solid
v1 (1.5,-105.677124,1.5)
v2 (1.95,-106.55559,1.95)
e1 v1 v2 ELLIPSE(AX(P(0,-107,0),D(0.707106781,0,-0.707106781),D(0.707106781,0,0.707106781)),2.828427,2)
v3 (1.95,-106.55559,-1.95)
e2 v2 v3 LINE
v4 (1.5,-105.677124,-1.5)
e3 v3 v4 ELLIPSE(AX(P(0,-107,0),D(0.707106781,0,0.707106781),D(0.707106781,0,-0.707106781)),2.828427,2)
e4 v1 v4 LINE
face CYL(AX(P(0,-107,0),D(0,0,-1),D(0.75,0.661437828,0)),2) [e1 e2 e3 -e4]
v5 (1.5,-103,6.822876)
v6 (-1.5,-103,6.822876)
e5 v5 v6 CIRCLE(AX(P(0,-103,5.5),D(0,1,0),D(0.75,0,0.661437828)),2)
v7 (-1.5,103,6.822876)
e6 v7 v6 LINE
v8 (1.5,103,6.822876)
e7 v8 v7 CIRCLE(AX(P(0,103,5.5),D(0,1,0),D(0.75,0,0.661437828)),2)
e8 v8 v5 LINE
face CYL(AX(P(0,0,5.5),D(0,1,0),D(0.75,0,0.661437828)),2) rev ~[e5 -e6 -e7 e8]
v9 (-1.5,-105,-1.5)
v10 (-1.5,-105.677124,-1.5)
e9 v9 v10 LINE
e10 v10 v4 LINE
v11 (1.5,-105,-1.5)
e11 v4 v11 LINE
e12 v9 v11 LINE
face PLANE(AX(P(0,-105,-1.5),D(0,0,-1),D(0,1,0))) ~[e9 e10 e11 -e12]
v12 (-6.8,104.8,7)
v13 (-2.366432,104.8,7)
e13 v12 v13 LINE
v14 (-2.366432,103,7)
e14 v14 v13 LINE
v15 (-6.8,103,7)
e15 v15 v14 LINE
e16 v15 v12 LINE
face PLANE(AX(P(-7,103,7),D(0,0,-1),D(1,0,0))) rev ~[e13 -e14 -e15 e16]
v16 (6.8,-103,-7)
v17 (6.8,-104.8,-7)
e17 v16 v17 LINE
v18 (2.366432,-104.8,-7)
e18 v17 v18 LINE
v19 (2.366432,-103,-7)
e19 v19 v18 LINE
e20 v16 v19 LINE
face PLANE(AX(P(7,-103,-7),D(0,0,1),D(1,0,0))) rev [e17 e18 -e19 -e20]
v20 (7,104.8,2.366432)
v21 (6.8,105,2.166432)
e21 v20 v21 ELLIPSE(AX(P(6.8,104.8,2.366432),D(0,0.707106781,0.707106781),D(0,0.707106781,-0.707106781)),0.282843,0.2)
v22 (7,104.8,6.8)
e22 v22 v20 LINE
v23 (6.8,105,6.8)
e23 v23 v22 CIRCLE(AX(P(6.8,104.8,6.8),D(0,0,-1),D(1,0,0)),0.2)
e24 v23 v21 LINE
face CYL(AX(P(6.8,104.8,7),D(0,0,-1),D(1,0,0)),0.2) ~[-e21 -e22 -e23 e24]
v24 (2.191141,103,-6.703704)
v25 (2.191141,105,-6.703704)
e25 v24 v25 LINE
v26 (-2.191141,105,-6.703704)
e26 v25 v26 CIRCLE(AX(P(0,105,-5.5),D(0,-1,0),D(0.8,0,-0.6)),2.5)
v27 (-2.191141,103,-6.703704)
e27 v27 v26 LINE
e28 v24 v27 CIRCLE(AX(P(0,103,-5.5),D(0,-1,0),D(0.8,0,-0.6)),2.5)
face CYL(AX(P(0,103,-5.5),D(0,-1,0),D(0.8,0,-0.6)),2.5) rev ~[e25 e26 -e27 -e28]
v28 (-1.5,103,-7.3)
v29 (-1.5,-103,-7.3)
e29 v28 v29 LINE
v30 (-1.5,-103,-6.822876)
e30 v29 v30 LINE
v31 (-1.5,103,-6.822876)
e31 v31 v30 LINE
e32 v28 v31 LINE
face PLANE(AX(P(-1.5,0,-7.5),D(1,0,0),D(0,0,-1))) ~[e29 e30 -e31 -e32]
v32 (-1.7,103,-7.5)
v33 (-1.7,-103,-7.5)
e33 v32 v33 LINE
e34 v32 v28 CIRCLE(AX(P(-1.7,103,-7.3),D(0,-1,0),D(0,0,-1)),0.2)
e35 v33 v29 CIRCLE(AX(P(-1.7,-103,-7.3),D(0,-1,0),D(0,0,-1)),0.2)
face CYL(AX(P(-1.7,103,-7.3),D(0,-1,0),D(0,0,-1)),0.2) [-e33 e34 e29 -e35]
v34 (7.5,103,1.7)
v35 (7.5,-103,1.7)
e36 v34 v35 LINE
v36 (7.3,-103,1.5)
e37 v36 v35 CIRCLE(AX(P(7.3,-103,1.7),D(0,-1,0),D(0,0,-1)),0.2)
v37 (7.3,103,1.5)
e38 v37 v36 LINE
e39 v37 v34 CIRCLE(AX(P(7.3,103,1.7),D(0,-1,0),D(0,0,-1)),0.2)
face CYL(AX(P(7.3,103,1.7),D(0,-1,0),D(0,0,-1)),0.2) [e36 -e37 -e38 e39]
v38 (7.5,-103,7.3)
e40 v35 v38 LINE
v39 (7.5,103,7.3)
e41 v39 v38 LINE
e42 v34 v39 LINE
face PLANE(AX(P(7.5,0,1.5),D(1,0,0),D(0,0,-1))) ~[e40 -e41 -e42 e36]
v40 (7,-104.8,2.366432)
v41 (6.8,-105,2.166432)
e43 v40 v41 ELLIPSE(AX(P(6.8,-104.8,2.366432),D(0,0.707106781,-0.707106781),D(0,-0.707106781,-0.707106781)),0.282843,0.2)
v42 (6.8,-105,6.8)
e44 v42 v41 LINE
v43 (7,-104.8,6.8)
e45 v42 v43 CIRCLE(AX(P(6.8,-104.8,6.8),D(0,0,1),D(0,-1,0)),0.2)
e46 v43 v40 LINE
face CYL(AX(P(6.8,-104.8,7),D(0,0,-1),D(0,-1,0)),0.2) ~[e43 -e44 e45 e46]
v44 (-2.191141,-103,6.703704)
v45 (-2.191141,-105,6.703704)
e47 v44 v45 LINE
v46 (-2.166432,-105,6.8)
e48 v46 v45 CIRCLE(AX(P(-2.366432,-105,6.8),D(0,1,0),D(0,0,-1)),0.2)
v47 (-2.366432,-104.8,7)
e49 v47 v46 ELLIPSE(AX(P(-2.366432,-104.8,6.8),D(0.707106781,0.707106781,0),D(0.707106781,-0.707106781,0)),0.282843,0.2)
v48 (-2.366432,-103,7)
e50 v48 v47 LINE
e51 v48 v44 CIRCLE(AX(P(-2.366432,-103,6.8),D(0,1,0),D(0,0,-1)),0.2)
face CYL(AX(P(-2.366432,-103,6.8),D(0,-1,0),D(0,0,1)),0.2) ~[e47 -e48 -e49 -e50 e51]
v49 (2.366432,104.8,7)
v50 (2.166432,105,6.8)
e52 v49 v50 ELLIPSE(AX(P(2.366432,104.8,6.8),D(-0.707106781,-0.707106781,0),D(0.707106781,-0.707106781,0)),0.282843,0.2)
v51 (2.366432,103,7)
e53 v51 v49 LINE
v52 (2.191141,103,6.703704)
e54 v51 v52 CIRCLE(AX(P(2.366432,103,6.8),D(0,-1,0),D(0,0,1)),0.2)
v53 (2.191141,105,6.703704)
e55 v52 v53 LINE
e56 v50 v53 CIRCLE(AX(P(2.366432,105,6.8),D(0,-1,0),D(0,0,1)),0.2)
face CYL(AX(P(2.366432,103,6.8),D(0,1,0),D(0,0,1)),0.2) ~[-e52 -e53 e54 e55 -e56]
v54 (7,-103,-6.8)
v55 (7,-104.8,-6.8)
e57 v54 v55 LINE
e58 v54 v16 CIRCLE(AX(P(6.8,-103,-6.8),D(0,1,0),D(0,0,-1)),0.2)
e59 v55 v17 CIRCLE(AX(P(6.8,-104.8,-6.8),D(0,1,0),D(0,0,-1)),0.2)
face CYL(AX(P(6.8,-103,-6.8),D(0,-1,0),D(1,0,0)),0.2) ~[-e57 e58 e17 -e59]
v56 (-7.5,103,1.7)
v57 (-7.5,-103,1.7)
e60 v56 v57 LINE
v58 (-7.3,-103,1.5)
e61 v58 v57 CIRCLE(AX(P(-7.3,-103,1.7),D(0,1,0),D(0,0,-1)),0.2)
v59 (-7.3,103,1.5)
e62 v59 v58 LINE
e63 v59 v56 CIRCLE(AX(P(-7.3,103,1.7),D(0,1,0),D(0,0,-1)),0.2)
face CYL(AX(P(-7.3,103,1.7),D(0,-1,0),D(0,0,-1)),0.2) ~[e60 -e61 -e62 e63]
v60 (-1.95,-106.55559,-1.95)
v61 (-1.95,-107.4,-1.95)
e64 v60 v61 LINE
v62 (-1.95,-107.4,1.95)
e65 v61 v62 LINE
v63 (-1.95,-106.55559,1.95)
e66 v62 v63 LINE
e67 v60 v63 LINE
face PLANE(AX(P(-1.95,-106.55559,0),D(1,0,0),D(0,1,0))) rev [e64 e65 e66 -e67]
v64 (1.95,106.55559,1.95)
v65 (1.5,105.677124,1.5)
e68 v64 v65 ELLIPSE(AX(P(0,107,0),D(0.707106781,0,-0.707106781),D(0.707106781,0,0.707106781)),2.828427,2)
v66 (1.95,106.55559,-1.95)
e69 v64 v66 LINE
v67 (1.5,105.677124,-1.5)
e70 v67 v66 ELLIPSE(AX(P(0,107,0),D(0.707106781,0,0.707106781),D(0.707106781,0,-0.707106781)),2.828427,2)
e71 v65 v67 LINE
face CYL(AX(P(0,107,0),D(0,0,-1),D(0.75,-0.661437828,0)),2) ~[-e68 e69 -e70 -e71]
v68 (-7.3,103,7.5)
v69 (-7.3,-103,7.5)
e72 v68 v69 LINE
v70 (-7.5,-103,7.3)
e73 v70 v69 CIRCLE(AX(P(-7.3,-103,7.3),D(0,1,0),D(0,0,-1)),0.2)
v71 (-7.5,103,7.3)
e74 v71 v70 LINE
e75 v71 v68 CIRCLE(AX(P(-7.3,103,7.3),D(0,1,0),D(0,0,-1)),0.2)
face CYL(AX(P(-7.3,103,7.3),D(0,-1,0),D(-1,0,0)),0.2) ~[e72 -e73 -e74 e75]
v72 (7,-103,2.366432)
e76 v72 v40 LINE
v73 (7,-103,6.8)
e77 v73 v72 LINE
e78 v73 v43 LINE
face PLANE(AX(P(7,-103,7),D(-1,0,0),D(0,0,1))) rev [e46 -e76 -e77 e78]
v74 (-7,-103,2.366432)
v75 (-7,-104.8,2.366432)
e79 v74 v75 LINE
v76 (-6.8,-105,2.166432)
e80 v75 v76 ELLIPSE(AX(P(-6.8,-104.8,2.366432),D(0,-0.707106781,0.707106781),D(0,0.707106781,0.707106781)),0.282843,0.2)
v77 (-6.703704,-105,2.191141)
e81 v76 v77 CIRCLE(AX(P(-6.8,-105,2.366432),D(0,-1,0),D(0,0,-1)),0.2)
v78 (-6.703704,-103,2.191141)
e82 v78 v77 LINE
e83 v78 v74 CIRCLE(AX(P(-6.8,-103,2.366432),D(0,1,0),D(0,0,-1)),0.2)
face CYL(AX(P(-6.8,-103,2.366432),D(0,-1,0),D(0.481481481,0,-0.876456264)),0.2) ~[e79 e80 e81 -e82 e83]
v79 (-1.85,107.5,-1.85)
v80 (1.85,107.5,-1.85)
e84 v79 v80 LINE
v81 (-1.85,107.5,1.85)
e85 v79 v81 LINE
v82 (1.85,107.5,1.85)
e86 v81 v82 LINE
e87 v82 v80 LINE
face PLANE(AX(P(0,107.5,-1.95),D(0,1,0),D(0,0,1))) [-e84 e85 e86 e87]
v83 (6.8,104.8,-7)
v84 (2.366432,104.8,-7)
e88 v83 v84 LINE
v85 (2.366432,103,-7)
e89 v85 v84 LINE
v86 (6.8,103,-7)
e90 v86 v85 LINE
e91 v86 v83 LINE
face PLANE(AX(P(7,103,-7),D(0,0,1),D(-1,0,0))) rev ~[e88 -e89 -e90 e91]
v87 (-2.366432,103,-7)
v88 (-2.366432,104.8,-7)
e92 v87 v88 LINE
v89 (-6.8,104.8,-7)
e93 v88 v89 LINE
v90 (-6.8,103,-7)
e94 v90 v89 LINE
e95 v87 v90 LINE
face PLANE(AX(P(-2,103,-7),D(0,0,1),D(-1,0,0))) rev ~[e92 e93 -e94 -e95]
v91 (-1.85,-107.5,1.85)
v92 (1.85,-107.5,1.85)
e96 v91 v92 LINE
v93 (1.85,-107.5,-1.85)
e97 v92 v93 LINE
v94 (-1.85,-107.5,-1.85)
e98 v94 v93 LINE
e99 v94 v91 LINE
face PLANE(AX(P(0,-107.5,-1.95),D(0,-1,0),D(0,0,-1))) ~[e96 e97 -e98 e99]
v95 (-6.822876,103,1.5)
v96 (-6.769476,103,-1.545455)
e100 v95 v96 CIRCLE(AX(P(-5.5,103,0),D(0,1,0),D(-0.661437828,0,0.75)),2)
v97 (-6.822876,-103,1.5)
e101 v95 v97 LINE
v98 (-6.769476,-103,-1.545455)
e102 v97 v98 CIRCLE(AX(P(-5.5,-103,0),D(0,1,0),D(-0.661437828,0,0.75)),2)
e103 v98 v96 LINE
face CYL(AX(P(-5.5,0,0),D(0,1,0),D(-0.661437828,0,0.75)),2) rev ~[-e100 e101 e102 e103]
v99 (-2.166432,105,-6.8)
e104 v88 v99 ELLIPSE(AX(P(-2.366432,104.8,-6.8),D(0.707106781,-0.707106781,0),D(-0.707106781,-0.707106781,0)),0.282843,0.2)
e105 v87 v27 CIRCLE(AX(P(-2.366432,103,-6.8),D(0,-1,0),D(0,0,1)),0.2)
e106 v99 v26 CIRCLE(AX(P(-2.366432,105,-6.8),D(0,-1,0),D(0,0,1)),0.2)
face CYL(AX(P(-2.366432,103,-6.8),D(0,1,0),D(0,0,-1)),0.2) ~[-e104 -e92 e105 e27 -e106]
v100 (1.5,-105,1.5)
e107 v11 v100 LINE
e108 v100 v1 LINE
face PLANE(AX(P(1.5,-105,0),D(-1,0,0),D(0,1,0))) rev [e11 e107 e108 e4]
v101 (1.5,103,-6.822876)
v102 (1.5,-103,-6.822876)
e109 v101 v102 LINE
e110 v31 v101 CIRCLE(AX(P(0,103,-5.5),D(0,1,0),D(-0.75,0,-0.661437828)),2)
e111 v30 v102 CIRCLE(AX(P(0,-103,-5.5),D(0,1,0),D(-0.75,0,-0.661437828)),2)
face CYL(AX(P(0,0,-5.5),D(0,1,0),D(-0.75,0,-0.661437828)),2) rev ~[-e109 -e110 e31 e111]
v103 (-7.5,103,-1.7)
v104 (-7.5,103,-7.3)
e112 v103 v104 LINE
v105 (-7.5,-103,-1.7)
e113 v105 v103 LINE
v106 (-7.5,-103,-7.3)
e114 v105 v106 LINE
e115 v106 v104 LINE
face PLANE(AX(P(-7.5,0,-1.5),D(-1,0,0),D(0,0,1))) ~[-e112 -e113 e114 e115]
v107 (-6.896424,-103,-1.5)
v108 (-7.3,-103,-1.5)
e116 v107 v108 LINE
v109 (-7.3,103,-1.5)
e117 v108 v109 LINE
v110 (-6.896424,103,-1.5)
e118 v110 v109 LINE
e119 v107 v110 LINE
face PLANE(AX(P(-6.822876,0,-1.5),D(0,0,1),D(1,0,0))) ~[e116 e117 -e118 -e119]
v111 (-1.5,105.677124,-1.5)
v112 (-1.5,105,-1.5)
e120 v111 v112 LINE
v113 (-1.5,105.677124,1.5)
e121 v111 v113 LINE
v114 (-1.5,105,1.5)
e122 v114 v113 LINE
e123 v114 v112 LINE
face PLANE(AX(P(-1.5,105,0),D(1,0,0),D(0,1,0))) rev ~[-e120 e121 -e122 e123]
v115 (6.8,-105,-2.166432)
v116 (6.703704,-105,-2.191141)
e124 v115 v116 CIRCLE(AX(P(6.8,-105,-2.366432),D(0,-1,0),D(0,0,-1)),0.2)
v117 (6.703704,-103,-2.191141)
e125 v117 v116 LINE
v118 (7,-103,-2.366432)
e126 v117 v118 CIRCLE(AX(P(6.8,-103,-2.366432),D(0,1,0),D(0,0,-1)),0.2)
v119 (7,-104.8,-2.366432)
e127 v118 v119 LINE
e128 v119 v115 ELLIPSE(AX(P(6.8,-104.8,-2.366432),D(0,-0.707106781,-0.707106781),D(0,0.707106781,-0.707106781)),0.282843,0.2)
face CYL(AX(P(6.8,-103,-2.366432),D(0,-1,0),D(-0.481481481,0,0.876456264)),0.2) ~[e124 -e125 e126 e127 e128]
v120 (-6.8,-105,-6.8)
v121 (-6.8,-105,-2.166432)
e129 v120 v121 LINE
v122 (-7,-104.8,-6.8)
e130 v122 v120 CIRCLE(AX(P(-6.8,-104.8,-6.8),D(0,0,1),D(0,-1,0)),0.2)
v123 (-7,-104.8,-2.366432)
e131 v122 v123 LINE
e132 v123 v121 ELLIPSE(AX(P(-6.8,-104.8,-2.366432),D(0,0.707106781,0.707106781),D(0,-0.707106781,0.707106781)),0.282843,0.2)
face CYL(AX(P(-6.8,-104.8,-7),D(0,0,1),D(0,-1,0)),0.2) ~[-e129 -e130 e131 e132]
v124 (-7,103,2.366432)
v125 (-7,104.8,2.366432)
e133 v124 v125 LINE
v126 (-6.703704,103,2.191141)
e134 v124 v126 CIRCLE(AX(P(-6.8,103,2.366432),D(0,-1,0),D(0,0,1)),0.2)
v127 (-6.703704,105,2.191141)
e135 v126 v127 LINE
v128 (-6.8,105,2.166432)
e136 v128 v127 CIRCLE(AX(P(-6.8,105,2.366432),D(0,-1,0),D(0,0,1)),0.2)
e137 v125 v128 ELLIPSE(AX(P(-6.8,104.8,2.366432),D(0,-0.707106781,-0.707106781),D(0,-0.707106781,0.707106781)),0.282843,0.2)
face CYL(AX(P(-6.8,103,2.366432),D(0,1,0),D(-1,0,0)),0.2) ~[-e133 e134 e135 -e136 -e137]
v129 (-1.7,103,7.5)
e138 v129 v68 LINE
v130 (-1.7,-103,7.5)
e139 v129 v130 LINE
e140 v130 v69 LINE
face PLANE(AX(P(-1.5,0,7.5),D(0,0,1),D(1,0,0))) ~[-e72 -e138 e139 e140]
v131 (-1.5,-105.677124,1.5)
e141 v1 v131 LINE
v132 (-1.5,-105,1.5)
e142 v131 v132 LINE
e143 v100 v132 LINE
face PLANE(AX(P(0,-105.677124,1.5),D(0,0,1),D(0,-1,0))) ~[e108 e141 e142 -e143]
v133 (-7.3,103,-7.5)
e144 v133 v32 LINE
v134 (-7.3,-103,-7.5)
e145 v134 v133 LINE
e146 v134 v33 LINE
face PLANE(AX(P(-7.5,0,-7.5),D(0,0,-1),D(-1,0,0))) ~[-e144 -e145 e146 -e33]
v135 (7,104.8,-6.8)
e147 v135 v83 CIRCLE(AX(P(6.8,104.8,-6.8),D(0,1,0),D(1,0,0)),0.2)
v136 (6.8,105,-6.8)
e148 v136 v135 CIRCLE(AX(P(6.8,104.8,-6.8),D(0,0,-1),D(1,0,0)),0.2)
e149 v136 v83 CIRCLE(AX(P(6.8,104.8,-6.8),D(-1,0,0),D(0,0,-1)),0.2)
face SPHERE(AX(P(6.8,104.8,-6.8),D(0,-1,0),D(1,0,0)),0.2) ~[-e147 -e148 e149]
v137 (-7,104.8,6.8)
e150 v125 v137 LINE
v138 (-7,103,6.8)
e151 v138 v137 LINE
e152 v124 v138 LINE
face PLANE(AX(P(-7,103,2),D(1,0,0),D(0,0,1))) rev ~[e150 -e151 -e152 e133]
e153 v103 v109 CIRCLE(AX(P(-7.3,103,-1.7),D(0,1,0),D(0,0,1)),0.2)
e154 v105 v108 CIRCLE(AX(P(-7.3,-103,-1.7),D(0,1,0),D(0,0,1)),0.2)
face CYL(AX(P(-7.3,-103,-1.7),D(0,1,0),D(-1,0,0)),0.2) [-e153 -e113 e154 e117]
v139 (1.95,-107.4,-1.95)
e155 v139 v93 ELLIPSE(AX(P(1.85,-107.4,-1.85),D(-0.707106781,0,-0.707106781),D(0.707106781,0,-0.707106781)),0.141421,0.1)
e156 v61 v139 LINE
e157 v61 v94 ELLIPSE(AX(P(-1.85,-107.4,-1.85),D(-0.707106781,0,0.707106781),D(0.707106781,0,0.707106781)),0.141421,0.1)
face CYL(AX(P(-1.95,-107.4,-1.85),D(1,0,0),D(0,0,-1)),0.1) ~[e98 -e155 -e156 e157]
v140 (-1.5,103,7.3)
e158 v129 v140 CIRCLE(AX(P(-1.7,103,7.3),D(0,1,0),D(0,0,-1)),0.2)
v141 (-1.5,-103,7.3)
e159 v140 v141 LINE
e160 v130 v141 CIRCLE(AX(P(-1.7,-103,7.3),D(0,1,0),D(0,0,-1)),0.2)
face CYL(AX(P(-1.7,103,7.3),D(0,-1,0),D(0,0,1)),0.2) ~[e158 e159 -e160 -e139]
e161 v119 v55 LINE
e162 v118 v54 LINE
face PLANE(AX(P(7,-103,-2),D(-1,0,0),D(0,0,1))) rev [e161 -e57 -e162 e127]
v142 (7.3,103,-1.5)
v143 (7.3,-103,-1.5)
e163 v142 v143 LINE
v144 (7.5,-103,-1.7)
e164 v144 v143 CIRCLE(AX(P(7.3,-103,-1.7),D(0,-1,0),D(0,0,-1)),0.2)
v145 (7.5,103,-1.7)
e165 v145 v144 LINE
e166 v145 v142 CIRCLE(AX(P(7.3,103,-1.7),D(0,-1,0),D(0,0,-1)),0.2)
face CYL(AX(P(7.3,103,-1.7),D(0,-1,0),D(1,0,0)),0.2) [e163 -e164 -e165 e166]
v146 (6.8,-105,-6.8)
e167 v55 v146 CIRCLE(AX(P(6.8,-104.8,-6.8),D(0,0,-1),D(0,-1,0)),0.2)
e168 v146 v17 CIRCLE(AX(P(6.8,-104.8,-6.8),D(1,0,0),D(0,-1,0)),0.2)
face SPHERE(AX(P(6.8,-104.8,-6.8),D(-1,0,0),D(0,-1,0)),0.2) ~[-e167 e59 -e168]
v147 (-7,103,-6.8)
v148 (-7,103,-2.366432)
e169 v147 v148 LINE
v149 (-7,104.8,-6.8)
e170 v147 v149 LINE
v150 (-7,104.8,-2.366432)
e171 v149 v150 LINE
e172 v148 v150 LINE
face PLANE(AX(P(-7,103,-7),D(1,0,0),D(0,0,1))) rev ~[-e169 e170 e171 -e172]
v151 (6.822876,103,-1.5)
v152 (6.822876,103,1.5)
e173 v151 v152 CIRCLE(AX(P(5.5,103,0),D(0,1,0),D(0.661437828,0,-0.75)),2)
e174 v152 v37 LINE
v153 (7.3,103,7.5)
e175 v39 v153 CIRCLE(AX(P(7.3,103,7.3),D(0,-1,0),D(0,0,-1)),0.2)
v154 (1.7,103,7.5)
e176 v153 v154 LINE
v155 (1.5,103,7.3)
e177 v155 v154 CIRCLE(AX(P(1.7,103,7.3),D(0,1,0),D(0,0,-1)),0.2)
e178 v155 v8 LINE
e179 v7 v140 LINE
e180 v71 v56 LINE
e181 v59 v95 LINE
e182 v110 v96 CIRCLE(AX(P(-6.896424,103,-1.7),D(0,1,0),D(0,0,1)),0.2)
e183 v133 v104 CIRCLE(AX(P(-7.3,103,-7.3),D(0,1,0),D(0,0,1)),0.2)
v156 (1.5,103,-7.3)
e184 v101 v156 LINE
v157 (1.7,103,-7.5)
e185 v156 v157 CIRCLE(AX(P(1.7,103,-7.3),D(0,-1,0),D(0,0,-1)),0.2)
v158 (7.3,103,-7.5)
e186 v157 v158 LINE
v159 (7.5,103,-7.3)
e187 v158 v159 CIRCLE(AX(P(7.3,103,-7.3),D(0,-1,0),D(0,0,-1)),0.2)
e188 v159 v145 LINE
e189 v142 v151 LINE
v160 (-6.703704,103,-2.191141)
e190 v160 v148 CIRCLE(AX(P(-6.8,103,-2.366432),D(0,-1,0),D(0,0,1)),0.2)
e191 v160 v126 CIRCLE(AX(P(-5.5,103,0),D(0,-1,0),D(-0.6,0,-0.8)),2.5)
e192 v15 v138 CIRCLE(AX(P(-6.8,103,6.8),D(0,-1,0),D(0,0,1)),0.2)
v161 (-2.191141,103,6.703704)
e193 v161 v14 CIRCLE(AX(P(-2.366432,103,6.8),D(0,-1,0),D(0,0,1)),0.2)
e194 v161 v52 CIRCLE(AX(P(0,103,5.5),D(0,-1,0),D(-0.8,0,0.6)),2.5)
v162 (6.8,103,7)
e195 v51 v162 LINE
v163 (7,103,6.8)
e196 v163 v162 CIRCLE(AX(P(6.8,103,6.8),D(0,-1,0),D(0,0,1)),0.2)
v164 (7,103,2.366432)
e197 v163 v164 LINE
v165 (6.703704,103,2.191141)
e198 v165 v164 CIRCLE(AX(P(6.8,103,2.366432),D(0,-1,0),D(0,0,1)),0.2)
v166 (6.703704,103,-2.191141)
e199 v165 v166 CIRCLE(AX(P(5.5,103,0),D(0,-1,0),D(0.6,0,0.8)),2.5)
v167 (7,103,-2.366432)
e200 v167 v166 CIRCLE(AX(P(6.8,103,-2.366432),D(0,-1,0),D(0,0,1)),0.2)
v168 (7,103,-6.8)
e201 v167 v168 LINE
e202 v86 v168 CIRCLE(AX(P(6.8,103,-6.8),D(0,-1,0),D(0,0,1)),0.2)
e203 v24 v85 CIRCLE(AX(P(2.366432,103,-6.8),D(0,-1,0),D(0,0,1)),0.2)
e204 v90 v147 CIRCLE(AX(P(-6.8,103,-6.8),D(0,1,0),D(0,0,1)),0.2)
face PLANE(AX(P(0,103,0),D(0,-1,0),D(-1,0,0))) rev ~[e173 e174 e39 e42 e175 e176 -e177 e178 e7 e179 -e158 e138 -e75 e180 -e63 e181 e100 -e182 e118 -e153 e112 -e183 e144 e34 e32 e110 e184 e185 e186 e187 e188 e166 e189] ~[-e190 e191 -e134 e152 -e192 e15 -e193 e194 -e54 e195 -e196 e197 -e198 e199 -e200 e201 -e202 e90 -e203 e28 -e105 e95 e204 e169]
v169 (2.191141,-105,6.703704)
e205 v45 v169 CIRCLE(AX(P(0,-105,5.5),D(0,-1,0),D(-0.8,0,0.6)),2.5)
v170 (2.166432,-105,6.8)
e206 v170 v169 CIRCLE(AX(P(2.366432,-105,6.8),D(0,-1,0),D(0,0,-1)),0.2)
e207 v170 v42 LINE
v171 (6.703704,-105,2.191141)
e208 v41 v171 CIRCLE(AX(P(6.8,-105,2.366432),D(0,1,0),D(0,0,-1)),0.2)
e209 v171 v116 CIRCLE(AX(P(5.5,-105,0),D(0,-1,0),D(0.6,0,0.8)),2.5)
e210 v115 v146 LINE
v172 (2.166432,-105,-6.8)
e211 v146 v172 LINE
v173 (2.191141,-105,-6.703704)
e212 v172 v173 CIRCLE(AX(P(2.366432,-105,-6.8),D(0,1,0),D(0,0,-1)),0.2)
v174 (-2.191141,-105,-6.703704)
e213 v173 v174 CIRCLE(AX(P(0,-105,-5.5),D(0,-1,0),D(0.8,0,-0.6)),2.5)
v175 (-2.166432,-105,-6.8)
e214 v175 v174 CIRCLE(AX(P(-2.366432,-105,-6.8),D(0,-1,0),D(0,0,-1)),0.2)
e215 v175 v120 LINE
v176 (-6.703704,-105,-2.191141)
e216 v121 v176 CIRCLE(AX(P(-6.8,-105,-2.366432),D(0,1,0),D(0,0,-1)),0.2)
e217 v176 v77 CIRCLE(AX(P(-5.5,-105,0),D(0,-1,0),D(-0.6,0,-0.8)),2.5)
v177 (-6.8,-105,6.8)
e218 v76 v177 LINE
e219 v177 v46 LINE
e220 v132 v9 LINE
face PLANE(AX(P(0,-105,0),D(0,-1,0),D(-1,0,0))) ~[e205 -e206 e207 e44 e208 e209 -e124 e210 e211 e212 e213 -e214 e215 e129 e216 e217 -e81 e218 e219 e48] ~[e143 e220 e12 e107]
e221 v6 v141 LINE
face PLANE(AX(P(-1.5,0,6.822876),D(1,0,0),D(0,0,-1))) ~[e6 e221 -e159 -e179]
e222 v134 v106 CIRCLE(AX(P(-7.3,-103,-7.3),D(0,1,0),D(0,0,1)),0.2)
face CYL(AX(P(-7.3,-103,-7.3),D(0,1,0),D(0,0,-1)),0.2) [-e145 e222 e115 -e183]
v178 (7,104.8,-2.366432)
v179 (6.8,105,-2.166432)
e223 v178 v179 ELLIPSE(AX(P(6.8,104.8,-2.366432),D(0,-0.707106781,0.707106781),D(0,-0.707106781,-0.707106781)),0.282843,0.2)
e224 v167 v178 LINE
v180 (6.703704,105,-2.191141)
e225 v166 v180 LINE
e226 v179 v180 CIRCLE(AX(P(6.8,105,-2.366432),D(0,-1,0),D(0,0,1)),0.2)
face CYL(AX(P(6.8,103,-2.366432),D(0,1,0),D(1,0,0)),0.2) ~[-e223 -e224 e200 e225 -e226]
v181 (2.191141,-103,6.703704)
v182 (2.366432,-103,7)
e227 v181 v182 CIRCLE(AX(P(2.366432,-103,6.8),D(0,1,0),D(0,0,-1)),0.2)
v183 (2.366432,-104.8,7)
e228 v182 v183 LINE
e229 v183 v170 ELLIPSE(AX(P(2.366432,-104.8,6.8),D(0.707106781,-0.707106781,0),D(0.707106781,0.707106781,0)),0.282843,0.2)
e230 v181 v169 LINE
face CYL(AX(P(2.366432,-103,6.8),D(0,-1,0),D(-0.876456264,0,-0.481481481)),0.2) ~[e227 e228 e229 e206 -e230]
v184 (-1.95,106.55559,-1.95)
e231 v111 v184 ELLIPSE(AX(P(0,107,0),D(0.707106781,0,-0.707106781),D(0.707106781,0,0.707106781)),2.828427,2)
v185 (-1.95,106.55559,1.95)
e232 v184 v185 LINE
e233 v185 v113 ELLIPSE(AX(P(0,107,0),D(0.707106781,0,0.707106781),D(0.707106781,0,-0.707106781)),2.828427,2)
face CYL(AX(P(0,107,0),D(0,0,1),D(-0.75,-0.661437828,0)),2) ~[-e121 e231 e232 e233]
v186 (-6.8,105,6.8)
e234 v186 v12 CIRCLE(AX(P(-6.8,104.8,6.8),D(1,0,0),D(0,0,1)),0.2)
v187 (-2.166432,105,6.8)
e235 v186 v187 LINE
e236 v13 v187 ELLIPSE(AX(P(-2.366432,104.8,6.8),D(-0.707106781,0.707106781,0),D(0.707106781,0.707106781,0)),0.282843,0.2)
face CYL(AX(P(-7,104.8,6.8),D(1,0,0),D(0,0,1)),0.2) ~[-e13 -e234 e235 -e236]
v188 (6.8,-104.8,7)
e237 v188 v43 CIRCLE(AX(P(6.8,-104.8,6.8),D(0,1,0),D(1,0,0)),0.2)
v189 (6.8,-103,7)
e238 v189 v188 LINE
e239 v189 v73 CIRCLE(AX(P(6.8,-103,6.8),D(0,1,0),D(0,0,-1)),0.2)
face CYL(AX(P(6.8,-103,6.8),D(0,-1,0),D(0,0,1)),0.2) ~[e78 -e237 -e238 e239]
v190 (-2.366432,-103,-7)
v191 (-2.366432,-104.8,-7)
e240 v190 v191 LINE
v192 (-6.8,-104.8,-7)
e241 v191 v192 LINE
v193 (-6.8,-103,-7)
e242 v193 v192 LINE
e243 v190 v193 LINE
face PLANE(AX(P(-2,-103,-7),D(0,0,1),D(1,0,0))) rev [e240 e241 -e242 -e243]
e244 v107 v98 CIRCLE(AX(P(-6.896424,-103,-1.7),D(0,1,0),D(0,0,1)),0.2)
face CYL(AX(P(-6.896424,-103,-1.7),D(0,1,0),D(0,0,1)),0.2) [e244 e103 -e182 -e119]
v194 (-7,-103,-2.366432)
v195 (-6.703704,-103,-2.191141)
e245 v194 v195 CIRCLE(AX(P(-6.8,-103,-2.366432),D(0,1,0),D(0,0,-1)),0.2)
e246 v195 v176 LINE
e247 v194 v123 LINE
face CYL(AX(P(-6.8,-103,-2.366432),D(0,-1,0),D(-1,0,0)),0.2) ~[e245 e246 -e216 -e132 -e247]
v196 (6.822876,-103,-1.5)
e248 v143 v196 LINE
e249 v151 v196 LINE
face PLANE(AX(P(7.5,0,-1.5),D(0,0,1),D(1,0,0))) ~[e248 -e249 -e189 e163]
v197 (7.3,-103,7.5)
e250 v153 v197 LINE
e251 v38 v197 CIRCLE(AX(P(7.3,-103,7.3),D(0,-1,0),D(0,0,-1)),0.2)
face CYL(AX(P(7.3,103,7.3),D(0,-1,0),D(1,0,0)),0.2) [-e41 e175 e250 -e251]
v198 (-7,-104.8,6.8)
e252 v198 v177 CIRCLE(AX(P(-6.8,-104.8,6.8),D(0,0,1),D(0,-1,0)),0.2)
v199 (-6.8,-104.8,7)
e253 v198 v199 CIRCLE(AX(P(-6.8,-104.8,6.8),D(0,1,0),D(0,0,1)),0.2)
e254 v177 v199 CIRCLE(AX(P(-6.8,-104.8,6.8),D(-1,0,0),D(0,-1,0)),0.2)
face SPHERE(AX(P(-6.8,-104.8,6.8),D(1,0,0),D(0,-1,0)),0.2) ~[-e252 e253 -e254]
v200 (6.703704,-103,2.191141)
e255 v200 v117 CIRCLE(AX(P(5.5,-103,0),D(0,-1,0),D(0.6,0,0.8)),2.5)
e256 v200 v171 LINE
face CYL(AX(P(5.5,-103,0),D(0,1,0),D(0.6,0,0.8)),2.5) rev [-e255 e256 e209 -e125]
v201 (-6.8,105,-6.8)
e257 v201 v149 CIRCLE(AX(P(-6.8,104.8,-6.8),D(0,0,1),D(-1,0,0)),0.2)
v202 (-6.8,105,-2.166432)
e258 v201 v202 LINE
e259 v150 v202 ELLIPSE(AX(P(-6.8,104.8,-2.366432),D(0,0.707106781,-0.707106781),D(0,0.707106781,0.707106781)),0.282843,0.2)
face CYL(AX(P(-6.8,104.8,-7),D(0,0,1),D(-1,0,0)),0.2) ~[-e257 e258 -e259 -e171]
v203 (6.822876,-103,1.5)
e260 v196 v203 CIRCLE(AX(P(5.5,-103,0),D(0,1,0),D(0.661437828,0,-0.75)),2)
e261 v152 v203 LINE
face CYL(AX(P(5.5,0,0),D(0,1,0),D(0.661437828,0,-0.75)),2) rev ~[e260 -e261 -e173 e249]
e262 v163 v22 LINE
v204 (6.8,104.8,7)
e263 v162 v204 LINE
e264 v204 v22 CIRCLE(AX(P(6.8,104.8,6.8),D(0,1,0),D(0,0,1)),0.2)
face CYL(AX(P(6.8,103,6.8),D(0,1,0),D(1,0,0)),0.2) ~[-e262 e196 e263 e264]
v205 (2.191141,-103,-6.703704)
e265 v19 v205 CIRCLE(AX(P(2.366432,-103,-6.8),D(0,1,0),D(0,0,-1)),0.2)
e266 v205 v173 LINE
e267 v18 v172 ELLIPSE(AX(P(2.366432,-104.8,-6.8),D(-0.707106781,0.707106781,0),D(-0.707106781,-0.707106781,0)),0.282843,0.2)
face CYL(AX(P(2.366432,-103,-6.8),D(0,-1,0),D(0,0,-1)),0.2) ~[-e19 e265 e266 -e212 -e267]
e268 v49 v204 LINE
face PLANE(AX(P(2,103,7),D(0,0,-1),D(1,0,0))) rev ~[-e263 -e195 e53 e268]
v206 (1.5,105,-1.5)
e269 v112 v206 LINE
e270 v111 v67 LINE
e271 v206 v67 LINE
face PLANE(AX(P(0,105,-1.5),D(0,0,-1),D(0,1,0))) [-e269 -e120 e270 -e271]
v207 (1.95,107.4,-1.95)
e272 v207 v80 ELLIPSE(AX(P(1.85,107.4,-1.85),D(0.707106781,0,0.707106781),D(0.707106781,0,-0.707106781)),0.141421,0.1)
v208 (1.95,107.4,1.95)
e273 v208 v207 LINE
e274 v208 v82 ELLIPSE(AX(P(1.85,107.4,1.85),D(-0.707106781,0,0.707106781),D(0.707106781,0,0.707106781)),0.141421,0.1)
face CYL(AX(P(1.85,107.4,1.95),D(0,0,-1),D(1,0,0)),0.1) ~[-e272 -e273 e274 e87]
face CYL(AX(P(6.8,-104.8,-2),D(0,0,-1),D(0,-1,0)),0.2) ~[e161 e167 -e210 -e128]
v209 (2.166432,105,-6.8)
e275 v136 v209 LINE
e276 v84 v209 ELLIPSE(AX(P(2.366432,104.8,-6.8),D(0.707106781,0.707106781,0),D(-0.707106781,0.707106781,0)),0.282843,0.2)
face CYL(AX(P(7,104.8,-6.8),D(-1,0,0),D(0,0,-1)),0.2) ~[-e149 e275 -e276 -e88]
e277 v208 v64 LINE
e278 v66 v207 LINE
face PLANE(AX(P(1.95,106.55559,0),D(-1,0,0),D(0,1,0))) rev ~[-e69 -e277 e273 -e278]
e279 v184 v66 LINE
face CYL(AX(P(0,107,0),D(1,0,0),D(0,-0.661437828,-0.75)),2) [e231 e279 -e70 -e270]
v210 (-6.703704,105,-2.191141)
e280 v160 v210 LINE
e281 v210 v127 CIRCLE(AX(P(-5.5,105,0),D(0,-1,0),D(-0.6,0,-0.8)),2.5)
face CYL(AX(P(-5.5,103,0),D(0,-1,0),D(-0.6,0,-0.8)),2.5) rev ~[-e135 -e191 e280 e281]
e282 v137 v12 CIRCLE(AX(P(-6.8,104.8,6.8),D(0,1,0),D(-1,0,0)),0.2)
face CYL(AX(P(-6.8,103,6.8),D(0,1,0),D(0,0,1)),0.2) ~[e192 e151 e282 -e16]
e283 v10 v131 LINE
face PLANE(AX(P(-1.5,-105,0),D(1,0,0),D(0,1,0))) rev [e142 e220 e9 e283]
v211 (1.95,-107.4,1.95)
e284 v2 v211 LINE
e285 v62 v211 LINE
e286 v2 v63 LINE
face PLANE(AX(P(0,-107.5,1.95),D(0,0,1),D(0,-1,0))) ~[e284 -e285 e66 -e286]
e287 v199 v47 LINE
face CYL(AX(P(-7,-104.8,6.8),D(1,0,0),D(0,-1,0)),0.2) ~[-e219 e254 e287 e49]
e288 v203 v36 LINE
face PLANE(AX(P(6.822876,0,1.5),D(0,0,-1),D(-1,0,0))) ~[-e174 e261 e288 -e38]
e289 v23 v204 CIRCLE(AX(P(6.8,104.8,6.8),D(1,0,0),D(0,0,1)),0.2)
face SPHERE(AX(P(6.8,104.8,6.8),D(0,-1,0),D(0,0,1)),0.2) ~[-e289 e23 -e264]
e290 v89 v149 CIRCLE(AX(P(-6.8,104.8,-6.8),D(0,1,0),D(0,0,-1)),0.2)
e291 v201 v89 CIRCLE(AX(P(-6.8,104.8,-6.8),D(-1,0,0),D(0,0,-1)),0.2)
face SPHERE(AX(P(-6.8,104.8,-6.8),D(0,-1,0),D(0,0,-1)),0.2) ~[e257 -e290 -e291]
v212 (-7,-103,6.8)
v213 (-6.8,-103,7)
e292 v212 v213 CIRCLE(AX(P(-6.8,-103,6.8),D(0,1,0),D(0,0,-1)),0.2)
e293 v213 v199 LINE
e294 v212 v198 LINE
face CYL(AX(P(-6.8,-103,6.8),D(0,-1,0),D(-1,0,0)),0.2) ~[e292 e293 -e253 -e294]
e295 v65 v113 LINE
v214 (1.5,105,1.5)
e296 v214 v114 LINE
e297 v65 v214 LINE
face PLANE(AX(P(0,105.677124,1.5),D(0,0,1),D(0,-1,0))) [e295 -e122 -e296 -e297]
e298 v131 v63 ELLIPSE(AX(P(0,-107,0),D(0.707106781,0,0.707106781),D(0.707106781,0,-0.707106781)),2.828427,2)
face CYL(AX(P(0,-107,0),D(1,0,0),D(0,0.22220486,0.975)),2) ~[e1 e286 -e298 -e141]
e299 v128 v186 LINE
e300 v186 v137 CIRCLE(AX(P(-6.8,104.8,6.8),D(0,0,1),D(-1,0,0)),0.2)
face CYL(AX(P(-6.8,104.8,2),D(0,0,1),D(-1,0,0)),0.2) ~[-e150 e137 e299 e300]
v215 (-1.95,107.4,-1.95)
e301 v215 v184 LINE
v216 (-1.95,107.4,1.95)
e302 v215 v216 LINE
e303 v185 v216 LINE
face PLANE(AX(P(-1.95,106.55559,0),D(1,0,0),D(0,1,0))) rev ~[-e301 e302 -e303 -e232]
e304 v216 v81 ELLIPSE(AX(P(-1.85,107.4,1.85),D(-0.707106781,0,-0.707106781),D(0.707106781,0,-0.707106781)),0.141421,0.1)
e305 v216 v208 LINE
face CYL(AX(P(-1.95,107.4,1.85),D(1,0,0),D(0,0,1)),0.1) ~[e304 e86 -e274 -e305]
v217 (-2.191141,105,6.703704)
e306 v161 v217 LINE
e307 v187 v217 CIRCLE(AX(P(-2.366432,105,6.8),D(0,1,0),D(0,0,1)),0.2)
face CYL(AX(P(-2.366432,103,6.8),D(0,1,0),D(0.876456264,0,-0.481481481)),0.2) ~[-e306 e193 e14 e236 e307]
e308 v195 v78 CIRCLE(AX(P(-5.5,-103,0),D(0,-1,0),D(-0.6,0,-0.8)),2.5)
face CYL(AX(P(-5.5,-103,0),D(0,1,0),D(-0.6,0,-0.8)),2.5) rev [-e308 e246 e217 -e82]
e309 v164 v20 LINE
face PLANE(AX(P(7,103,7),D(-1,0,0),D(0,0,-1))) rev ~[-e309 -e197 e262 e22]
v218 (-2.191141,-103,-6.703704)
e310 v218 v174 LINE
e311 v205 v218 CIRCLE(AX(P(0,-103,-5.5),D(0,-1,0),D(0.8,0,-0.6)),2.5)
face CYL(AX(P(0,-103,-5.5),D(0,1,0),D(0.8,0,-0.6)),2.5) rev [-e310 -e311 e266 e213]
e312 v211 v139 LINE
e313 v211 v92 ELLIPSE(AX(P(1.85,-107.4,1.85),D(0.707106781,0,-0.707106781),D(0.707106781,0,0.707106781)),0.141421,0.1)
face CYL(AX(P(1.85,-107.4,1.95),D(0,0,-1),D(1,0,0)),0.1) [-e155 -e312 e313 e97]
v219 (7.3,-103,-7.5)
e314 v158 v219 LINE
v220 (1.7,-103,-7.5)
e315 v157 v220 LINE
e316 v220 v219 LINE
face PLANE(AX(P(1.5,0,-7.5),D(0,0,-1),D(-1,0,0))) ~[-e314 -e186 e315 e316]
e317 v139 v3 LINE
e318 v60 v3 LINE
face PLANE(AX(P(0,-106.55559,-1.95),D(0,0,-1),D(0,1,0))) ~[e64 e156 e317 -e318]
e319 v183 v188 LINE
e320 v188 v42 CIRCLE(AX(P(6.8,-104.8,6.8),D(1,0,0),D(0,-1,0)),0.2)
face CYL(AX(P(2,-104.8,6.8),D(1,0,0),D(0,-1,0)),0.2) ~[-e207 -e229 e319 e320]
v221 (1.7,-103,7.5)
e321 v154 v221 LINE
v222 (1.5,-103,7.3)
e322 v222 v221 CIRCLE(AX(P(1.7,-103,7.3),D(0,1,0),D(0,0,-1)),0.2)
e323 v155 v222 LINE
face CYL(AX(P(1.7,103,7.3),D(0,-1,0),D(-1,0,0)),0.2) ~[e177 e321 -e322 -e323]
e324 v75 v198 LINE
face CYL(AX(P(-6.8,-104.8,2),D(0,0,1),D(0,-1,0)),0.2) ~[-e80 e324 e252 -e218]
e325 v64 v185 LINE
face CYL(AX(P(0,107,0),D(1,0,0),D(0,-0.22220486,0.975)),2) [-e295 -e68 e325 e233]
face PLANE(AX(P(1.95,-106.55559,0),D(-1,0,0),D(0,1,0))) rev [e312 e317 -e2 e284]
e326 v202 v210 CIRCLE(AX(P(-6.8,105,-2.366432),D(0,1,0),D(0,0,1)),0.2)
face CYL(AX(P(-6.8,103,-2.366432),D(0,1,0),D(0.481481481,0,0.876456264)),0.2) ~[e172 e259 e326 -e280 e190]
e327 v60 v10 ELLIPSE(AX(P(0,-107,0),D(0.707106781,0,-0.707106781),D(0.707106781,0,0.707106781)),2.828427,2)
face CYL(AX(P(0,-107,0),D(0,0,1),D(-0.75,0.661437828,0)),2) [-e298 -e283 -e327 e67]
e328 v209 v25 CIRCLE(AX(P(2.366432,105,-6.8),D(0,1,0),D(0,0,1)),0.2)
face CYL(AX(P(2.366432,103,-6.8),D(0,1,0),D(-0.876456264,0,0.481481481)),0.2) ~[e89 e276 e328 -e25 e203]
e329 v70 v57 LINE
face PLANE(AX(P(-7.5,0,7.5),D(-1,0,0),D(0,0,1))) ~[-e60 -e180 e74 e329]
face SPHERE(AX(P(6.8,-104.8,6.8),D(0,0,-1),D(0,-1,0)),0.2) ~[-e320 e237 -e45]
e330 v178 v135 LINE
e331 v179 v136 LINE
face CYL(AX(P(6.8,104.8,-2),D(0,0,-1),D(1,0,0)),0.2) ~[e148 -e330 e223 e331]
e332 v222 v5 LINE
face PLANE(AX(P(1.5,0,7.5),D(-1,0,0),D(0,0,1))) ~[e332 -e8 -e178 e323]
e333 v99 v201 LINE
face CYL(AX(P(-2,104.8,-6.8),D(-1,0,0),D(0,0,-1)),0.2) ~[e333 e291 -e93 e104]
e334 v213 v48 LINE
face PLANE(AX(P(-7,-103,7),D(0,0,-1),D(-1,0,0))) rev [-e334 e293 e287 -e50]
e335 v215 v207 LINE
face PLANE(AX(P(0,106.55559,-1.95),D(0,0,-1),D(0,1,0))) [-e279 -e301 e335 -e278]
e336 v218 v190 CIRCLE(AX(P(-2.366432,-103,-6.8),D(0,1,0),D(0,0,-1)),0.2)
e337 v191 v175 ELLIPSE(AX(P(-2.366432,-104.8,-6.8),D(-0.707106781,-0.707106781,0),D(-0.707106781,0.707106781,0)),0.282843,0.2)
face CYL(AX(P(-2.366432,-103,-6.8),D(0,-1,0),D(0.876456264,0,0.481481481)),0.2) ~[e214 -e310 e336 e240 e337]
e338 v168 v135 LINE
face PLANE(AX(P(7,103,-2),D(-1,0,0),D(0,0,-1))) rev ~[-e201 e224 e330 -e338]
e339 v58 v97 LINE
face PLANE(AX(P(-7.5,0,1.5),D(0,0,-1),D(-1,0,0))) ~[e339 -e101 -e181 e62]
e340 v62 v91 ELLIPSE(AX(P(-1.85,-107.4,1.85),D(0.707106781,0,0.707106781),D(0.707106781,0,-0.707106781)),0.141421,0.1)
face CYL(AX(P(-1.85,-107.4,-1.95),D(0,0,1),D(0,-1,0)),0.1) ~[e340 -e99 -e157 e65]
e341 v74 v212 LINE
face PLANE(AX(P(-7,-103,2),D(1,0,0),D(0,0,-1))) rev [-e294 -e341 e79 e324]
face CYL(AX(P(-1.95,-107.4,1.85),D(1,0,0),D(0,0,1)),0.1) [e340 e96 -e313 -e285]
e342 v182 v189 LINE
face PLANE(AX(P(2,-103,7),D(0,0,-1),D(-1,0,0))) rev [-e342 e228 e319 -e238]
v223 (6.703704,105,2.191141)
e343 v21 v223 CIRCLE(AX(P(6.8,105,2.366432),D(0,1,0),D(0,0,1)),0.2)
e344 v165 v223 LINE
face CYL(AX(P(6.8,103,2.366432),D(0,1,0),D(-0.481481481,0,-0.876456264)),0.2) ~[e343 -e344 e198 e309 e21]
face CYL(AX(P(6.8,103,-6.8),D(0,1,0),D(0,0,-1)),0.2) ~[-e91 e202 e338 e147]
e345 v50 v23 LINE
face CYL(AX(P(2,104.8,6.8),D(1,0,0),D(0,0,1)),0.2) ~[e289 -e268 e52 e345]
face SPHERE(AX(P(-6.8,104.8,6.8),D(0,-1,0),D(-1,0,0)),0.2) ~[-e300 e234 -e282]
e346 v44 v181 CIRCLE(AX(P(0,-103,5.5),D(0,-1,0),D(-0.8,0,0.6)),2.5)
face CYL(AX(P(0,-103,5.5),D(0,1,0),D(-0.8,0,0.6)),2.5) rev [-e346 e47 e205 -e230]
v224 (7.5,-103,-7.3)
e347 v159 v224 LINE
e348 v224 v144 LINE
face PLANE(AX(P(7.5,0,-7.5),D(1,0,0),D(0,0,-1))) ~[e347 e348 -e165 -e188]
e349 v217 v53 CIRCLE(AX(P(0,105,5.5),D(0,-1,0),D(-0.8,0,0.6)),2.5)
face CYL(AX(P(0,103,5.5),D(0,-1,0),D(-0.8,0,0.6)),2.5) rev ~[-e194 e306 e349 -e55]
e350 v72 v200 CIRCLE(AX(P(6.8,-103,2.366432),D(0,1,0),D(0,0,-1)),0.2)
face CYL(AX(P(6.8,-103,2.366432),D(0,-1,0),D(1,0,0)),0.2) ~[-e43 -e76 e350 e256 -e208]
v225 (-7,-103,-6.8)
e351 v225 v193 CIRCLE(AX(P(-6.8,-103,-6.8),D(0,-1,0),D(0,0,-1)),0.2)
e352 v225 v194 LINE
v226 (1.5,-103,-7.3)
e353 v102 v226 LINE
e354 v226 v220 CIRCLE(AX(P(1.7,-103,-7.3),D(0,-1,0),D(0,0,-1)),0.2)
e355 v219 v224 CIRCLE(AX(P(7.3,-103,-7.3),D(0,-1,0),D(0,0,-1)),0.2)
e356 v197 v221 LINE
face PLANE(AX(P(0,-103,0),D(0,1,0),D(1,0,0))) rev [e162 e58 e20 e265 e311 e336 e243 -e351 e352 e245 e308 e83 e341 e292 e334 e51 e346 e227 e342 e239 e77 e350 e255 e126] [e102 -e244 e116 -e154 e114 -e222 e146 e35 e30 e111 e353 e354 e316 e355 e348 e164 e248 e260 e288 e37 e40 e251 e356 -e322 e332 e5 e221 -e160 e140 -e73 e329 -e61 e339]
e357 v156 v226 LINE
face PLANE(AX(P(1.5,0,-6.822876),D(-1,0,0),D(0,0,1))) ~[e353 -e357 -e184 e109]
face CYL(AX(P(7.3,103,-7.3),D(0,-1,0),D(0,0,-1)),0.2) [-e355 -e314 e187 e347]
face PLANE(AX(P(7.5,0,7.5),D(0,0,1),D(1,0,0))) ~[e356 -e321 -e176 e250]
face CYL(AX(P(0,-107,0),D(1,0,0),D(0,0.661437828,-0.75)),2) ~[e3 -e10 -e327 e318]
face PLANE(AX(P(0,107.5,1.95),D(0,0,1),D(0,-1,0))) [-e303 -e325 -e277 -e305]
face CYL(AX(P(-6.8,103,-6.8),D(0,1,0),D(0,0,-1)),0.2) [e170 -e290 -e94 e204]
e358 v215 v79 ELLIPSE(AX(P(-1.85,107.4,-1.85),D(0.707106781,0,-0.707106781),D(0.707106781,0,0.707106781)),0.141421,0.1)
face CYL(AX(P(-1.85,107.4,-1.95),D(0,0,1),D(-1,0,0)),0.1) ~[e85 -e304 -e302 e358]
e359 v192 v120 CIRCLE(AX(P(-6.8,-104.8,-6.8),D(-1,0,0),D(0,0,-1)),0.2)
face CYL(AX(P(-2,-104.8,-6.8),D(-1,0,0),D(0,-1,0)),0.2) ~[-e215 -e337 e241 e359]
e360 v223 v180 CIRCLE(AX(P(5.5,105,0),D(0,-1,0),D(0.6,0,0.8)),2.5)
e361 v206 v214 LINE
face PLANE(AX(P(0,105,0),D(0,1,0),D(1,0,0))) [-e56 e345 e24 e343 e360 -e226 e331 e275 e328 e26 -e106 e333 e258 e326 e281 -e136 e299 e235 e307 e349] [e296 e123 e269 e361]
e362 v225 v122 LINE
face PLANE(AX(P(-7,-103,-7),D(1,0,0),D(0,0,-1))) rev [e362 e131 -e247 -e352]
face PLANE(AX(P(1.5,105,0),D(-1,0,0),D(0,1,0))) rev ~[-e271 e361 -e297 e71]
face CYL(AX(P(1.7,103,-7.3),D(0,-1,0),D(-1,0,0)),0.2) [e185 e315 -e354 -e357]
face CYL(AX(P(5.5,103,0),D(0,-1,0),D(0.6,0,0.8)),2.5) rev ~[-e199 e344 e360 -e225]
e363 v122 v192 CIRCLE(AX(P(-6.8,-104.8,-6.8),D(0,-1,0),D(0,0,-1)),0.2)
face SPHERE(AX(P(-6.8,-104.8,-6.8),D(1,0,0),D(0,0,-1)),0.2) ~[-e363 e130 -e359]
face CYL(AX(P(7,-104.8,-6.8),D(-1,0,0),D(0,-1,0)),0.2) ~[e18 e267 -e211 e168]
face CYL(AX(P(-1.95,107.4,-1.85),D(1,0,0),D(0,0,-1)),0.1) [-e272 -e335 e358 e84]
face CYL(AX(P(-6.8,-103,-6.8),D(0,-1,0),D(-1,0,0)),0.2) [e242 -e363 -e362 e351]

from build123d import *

# Parameters (mm, degrees)
EXTRUDE_1_DEPTH     = 103
EXTRUDE_2_DEPTH     = 2
EXTRUDE_3_DEPTH     = 2
CUT_EXTRUDE_1_DEPTH = 2.5
FILLET_1_R          = 0.1
FILLET_2_R          = 0.2
FILLET_3_R          = 0.2


with BuildPart() as part:
    # 草图1 → 凸台-拉伸1 (new body)
    with BuildSketch(Plane(origin=(0, 0, 0), x_dir=(1, 0, 0), z_dir=(0, 1, 0))):
        with BuildLine():
            Line((-7.5, 7.5), (-1.5, 7.5))
            Line((-1.5, 7.5), (-1.5, 6.822875656))
            ThreePointArc((-1.5, 6.822875656), (0, 3.5), (1.5, 6.822875656))
            Line((1.5, 6.822875656), (1.5, 7.5))
            Line((1.5, 7.5), (7.5, 7.5))
            Line((7.5, 7.5), (7.5, 1.5))
            Line((7.5, 1.5), (6.822875656, 1.5))
            ThreePointArc((6.822875656, 1.5), (3.5, 0), (6.822875656, -1.5))
            Line((6.822875656, -1.5), (7.5, -1.5))
            Line((7.5, -1.5), (7.5, -7.5))
            Line((7.5, -7.5), (1.5, -7.5))
            Line((1.5, -7.5), (1.5, -6.822875656))
            ThreePointArc((1.5, -6.822875656), (0, -3.5), (-1.5, -6.822875656))
            Line((-1.5, -6.822875656), (-1.5, -7.5))
            Line((-1.5, -7.5), (-7.5, -7.5))
            Line((-7.5, -7.5), (-7.5, -1.5))
            Line((-7.5, -1.5), (-6.822875656, -1.5))
            ThreePointArc((-6.822875656, -1.5), (-3.5, 0), (-6.822875656, 1.5))
            Line((-6.822875656, 1.5), (-7.5, 1.5))
            Line((-7.5, 1.5), (-7.5, 7.5))
        make_face()
    extrude_1 = extrude(amount=EXTRUDE_1_DEPTH)

    # 草图2 → 凸台-拉伸2 (add)
    with BuildSketch(Plane(origin=(0, 103, 0), x_dir=(1, 0, 0), z_dir=(0, 1, 0))):
        with BuildLine():
            Line((-7, 7), (-7, 2))
            ThreePointArc((-7, 2), (-3, 0), (-7, -2))
            Line((-7, -2), (-7, -7))
            Line((-7, -7), (-2, -7))
            ThreePointArc((-2, -7), (0, -3), (2, -7))
            Line((2, -7), (7, -7))
            Line((7, -7), (7, -2))
            ThreePointArc((7, -2), (3, 0), (7, 2))
            Line((7, 2), (7, 7))
            Line((7, 7), (2, 7))
            ThreePointArc((2, 7), (0, 3), (-2, 7))
            Line((-2, 7), (-7, 7))
        make_face()
    extrude_2 = extrude(amount=EXTRUDE_2_DEPTH)

    # 草图3 → 凸台-拉伸3 (add, symmetric)
    with BuildSketch(Plane(origin=(0, 0, 0), x_dir=(0, 0, -1), z_dir=(1, 0, 0))):
        with BuildLine():
            Line((-1.5, 105), (1.5, 105))
            Line((1.5, 105), (1.5, 105.677124344))
            ThreePointArc((1.5, 105.677124344), (1.780042303, 106.088161527), (1.95, 106.555590279))
            Line((1.95, 106.555590279), (1.95, 107.5))
            Line((1.95, 107.5), (-1.95, 107.5))
            Line((-1.95, 107.5), (-1.95, 106.555590279))
            ThreePointArc((-1.95, 106.555590279), (-1.780042303, 106.088161527), (-1.5, 105.677124344))
            Line((-1.5, 105.677124344), (-1.5, 105))
        make_face()
    extrude_3 = extrude(amount=EXTRUDE_3_DEPTH, both=True)

    # 草图4 → 切除-拉伸1 (cut, symmetric)
    with BuildSketch(Plane.XY):
        with BuildLine():
            Line((1.5, 105), (1.5, 105.677124344))
            ThreePointArc((1.5, 105.677124344), (1.780042303, 106.088161527), (1.95, 106.555590279))
            Line((1.95, 106.555590279), (1.95, 107.5))
            Line((1.95, 107.5), (2.5, 107.5))
            Line((2.5, 107.5), (2.5, 105))
            Line((2.5, 105), (1.5, 105))
        make_face()
        with BuildLine():
            Line((-1.5, 105), (-1.5, 105.677124344))
            ThreePointArc((-1.5, 105.677124344), (-1.780042303, 106.088161527), (-1.95, 106.555590279))
            Line((-1.95, 106.555590279), (-1.95, 107.5))
            Line((-1.95, 107.5), (-2.5, 107.5))
            Line((-2.5, 107.5), (-2.5, 105))
            Line((-2.5, 105), (-1.5, 105))
        make_face()
    cut_extrude_1 = extrude(amount=CUT_EXTRUDE_1_DEPTH, both=True, mode=Mode.SUBTRACT)

    # 镜向1: 凸台-拉伸1, 凸台-拉伸2, 凸台-拉伸3, 切除-拉伸1 across plane
    add(extrude_1.mirror(Plane.ZX))
    add(extrude_2.mirror(Plane.ZX))
    add(extrude_3.mirror(Plane.ZX))
    add(cut_extrude_1.mirror(Plane.ZX), mode=Mode.SUBTRACT)

    # 圆角1
    fillet_1_edges = [part.edges().sort_by_distance(p)[0] for p in [
        (0, 107.5, -1.95),
        (0, 107.5, 1.95),
        (-1.95, 107.5, 0),
        (1.95, 107.5, 0),
        (0, -107.5, 1.95),
        (0, -107.5, -1.95),
        (-1.95, -107.5, 0),
        (1.95, -107.5, 0),
    ]]
    fillet(fillet_1_edges, radius=FILLET_1_R)

    # 圆角2
    fillet_2_edges = [part.edges().sort_by_distance(p)[0] for p in [
        (-4.5, -105, -7),
        (-7, -104, -7),
        (-2, -104, -7),
        (4.5, -105, -7),
        (2, -104, -7),
        (7, -105, -4.5),
        (7, -104, -7),
        (7, -104, -2),
        (7, -105, 4.5),
        (7, -104, 2),
        (4.5, -105, 7),
        (7, -104, 7),
        (2, -104, 7),
        (-4.5, -105, 7),
        (-2, -104, 7),
        (-7, -105, 4.5),
        (-7, -104, 7),
        (-7, -104, 2),
        (-7, -105, -4.5),
        (-7, -104, -2),
        (-2, 104, -7),
        (-7, 104, -7),
        (-7, 104, -2),
        (-7, 104, 2),
        (-7, 104, 7),
        (-2, 104, 7),
        (2, 104, 7),
        (7, 104, 7),
        (7, 104, 2),
        (7, 104, -2),
        (7, 104, -7),
        (2, 104, -7),
        (-4.5, 105, -7),
        (-7, 105, -4.5),
        (-7, 105, 4.5),
        (-4.5, 105, 7),
        (4.5, 105, 7),
        (7, 105, 4.5),
        (7, 105, -4.5),
        (4.5, 105, -7),
    ]]
    fillet(fillet_2_edges, radius=FILLET_2_R)

    # 圆角3
    fillet_3_edges = [part.edges().sort_by_distance(p)[0] for p in [
        (-7.5, 0, -7.5),
        (-1.5, 0, -7.5),
        (1.5, 0, -7.5),
        (7.5, 0, -7.5),
        (7.5, 0, -1.5),
        (7.5, 0, 1.5),
        (7.5, 0, 7.5),
        (1.5, 0, 7.5),
        (-1.5, 0, 7.5),
        (-7.5, 0, 7.5),
        (-7.5, 0, 1.5),
        (-6.822875656, 0, -1.5),
        (-7.5, 0, -1.5),
    ]]
    fillet(fillet_3_edges, radius=FILLET_3_R)


solid = part.part
